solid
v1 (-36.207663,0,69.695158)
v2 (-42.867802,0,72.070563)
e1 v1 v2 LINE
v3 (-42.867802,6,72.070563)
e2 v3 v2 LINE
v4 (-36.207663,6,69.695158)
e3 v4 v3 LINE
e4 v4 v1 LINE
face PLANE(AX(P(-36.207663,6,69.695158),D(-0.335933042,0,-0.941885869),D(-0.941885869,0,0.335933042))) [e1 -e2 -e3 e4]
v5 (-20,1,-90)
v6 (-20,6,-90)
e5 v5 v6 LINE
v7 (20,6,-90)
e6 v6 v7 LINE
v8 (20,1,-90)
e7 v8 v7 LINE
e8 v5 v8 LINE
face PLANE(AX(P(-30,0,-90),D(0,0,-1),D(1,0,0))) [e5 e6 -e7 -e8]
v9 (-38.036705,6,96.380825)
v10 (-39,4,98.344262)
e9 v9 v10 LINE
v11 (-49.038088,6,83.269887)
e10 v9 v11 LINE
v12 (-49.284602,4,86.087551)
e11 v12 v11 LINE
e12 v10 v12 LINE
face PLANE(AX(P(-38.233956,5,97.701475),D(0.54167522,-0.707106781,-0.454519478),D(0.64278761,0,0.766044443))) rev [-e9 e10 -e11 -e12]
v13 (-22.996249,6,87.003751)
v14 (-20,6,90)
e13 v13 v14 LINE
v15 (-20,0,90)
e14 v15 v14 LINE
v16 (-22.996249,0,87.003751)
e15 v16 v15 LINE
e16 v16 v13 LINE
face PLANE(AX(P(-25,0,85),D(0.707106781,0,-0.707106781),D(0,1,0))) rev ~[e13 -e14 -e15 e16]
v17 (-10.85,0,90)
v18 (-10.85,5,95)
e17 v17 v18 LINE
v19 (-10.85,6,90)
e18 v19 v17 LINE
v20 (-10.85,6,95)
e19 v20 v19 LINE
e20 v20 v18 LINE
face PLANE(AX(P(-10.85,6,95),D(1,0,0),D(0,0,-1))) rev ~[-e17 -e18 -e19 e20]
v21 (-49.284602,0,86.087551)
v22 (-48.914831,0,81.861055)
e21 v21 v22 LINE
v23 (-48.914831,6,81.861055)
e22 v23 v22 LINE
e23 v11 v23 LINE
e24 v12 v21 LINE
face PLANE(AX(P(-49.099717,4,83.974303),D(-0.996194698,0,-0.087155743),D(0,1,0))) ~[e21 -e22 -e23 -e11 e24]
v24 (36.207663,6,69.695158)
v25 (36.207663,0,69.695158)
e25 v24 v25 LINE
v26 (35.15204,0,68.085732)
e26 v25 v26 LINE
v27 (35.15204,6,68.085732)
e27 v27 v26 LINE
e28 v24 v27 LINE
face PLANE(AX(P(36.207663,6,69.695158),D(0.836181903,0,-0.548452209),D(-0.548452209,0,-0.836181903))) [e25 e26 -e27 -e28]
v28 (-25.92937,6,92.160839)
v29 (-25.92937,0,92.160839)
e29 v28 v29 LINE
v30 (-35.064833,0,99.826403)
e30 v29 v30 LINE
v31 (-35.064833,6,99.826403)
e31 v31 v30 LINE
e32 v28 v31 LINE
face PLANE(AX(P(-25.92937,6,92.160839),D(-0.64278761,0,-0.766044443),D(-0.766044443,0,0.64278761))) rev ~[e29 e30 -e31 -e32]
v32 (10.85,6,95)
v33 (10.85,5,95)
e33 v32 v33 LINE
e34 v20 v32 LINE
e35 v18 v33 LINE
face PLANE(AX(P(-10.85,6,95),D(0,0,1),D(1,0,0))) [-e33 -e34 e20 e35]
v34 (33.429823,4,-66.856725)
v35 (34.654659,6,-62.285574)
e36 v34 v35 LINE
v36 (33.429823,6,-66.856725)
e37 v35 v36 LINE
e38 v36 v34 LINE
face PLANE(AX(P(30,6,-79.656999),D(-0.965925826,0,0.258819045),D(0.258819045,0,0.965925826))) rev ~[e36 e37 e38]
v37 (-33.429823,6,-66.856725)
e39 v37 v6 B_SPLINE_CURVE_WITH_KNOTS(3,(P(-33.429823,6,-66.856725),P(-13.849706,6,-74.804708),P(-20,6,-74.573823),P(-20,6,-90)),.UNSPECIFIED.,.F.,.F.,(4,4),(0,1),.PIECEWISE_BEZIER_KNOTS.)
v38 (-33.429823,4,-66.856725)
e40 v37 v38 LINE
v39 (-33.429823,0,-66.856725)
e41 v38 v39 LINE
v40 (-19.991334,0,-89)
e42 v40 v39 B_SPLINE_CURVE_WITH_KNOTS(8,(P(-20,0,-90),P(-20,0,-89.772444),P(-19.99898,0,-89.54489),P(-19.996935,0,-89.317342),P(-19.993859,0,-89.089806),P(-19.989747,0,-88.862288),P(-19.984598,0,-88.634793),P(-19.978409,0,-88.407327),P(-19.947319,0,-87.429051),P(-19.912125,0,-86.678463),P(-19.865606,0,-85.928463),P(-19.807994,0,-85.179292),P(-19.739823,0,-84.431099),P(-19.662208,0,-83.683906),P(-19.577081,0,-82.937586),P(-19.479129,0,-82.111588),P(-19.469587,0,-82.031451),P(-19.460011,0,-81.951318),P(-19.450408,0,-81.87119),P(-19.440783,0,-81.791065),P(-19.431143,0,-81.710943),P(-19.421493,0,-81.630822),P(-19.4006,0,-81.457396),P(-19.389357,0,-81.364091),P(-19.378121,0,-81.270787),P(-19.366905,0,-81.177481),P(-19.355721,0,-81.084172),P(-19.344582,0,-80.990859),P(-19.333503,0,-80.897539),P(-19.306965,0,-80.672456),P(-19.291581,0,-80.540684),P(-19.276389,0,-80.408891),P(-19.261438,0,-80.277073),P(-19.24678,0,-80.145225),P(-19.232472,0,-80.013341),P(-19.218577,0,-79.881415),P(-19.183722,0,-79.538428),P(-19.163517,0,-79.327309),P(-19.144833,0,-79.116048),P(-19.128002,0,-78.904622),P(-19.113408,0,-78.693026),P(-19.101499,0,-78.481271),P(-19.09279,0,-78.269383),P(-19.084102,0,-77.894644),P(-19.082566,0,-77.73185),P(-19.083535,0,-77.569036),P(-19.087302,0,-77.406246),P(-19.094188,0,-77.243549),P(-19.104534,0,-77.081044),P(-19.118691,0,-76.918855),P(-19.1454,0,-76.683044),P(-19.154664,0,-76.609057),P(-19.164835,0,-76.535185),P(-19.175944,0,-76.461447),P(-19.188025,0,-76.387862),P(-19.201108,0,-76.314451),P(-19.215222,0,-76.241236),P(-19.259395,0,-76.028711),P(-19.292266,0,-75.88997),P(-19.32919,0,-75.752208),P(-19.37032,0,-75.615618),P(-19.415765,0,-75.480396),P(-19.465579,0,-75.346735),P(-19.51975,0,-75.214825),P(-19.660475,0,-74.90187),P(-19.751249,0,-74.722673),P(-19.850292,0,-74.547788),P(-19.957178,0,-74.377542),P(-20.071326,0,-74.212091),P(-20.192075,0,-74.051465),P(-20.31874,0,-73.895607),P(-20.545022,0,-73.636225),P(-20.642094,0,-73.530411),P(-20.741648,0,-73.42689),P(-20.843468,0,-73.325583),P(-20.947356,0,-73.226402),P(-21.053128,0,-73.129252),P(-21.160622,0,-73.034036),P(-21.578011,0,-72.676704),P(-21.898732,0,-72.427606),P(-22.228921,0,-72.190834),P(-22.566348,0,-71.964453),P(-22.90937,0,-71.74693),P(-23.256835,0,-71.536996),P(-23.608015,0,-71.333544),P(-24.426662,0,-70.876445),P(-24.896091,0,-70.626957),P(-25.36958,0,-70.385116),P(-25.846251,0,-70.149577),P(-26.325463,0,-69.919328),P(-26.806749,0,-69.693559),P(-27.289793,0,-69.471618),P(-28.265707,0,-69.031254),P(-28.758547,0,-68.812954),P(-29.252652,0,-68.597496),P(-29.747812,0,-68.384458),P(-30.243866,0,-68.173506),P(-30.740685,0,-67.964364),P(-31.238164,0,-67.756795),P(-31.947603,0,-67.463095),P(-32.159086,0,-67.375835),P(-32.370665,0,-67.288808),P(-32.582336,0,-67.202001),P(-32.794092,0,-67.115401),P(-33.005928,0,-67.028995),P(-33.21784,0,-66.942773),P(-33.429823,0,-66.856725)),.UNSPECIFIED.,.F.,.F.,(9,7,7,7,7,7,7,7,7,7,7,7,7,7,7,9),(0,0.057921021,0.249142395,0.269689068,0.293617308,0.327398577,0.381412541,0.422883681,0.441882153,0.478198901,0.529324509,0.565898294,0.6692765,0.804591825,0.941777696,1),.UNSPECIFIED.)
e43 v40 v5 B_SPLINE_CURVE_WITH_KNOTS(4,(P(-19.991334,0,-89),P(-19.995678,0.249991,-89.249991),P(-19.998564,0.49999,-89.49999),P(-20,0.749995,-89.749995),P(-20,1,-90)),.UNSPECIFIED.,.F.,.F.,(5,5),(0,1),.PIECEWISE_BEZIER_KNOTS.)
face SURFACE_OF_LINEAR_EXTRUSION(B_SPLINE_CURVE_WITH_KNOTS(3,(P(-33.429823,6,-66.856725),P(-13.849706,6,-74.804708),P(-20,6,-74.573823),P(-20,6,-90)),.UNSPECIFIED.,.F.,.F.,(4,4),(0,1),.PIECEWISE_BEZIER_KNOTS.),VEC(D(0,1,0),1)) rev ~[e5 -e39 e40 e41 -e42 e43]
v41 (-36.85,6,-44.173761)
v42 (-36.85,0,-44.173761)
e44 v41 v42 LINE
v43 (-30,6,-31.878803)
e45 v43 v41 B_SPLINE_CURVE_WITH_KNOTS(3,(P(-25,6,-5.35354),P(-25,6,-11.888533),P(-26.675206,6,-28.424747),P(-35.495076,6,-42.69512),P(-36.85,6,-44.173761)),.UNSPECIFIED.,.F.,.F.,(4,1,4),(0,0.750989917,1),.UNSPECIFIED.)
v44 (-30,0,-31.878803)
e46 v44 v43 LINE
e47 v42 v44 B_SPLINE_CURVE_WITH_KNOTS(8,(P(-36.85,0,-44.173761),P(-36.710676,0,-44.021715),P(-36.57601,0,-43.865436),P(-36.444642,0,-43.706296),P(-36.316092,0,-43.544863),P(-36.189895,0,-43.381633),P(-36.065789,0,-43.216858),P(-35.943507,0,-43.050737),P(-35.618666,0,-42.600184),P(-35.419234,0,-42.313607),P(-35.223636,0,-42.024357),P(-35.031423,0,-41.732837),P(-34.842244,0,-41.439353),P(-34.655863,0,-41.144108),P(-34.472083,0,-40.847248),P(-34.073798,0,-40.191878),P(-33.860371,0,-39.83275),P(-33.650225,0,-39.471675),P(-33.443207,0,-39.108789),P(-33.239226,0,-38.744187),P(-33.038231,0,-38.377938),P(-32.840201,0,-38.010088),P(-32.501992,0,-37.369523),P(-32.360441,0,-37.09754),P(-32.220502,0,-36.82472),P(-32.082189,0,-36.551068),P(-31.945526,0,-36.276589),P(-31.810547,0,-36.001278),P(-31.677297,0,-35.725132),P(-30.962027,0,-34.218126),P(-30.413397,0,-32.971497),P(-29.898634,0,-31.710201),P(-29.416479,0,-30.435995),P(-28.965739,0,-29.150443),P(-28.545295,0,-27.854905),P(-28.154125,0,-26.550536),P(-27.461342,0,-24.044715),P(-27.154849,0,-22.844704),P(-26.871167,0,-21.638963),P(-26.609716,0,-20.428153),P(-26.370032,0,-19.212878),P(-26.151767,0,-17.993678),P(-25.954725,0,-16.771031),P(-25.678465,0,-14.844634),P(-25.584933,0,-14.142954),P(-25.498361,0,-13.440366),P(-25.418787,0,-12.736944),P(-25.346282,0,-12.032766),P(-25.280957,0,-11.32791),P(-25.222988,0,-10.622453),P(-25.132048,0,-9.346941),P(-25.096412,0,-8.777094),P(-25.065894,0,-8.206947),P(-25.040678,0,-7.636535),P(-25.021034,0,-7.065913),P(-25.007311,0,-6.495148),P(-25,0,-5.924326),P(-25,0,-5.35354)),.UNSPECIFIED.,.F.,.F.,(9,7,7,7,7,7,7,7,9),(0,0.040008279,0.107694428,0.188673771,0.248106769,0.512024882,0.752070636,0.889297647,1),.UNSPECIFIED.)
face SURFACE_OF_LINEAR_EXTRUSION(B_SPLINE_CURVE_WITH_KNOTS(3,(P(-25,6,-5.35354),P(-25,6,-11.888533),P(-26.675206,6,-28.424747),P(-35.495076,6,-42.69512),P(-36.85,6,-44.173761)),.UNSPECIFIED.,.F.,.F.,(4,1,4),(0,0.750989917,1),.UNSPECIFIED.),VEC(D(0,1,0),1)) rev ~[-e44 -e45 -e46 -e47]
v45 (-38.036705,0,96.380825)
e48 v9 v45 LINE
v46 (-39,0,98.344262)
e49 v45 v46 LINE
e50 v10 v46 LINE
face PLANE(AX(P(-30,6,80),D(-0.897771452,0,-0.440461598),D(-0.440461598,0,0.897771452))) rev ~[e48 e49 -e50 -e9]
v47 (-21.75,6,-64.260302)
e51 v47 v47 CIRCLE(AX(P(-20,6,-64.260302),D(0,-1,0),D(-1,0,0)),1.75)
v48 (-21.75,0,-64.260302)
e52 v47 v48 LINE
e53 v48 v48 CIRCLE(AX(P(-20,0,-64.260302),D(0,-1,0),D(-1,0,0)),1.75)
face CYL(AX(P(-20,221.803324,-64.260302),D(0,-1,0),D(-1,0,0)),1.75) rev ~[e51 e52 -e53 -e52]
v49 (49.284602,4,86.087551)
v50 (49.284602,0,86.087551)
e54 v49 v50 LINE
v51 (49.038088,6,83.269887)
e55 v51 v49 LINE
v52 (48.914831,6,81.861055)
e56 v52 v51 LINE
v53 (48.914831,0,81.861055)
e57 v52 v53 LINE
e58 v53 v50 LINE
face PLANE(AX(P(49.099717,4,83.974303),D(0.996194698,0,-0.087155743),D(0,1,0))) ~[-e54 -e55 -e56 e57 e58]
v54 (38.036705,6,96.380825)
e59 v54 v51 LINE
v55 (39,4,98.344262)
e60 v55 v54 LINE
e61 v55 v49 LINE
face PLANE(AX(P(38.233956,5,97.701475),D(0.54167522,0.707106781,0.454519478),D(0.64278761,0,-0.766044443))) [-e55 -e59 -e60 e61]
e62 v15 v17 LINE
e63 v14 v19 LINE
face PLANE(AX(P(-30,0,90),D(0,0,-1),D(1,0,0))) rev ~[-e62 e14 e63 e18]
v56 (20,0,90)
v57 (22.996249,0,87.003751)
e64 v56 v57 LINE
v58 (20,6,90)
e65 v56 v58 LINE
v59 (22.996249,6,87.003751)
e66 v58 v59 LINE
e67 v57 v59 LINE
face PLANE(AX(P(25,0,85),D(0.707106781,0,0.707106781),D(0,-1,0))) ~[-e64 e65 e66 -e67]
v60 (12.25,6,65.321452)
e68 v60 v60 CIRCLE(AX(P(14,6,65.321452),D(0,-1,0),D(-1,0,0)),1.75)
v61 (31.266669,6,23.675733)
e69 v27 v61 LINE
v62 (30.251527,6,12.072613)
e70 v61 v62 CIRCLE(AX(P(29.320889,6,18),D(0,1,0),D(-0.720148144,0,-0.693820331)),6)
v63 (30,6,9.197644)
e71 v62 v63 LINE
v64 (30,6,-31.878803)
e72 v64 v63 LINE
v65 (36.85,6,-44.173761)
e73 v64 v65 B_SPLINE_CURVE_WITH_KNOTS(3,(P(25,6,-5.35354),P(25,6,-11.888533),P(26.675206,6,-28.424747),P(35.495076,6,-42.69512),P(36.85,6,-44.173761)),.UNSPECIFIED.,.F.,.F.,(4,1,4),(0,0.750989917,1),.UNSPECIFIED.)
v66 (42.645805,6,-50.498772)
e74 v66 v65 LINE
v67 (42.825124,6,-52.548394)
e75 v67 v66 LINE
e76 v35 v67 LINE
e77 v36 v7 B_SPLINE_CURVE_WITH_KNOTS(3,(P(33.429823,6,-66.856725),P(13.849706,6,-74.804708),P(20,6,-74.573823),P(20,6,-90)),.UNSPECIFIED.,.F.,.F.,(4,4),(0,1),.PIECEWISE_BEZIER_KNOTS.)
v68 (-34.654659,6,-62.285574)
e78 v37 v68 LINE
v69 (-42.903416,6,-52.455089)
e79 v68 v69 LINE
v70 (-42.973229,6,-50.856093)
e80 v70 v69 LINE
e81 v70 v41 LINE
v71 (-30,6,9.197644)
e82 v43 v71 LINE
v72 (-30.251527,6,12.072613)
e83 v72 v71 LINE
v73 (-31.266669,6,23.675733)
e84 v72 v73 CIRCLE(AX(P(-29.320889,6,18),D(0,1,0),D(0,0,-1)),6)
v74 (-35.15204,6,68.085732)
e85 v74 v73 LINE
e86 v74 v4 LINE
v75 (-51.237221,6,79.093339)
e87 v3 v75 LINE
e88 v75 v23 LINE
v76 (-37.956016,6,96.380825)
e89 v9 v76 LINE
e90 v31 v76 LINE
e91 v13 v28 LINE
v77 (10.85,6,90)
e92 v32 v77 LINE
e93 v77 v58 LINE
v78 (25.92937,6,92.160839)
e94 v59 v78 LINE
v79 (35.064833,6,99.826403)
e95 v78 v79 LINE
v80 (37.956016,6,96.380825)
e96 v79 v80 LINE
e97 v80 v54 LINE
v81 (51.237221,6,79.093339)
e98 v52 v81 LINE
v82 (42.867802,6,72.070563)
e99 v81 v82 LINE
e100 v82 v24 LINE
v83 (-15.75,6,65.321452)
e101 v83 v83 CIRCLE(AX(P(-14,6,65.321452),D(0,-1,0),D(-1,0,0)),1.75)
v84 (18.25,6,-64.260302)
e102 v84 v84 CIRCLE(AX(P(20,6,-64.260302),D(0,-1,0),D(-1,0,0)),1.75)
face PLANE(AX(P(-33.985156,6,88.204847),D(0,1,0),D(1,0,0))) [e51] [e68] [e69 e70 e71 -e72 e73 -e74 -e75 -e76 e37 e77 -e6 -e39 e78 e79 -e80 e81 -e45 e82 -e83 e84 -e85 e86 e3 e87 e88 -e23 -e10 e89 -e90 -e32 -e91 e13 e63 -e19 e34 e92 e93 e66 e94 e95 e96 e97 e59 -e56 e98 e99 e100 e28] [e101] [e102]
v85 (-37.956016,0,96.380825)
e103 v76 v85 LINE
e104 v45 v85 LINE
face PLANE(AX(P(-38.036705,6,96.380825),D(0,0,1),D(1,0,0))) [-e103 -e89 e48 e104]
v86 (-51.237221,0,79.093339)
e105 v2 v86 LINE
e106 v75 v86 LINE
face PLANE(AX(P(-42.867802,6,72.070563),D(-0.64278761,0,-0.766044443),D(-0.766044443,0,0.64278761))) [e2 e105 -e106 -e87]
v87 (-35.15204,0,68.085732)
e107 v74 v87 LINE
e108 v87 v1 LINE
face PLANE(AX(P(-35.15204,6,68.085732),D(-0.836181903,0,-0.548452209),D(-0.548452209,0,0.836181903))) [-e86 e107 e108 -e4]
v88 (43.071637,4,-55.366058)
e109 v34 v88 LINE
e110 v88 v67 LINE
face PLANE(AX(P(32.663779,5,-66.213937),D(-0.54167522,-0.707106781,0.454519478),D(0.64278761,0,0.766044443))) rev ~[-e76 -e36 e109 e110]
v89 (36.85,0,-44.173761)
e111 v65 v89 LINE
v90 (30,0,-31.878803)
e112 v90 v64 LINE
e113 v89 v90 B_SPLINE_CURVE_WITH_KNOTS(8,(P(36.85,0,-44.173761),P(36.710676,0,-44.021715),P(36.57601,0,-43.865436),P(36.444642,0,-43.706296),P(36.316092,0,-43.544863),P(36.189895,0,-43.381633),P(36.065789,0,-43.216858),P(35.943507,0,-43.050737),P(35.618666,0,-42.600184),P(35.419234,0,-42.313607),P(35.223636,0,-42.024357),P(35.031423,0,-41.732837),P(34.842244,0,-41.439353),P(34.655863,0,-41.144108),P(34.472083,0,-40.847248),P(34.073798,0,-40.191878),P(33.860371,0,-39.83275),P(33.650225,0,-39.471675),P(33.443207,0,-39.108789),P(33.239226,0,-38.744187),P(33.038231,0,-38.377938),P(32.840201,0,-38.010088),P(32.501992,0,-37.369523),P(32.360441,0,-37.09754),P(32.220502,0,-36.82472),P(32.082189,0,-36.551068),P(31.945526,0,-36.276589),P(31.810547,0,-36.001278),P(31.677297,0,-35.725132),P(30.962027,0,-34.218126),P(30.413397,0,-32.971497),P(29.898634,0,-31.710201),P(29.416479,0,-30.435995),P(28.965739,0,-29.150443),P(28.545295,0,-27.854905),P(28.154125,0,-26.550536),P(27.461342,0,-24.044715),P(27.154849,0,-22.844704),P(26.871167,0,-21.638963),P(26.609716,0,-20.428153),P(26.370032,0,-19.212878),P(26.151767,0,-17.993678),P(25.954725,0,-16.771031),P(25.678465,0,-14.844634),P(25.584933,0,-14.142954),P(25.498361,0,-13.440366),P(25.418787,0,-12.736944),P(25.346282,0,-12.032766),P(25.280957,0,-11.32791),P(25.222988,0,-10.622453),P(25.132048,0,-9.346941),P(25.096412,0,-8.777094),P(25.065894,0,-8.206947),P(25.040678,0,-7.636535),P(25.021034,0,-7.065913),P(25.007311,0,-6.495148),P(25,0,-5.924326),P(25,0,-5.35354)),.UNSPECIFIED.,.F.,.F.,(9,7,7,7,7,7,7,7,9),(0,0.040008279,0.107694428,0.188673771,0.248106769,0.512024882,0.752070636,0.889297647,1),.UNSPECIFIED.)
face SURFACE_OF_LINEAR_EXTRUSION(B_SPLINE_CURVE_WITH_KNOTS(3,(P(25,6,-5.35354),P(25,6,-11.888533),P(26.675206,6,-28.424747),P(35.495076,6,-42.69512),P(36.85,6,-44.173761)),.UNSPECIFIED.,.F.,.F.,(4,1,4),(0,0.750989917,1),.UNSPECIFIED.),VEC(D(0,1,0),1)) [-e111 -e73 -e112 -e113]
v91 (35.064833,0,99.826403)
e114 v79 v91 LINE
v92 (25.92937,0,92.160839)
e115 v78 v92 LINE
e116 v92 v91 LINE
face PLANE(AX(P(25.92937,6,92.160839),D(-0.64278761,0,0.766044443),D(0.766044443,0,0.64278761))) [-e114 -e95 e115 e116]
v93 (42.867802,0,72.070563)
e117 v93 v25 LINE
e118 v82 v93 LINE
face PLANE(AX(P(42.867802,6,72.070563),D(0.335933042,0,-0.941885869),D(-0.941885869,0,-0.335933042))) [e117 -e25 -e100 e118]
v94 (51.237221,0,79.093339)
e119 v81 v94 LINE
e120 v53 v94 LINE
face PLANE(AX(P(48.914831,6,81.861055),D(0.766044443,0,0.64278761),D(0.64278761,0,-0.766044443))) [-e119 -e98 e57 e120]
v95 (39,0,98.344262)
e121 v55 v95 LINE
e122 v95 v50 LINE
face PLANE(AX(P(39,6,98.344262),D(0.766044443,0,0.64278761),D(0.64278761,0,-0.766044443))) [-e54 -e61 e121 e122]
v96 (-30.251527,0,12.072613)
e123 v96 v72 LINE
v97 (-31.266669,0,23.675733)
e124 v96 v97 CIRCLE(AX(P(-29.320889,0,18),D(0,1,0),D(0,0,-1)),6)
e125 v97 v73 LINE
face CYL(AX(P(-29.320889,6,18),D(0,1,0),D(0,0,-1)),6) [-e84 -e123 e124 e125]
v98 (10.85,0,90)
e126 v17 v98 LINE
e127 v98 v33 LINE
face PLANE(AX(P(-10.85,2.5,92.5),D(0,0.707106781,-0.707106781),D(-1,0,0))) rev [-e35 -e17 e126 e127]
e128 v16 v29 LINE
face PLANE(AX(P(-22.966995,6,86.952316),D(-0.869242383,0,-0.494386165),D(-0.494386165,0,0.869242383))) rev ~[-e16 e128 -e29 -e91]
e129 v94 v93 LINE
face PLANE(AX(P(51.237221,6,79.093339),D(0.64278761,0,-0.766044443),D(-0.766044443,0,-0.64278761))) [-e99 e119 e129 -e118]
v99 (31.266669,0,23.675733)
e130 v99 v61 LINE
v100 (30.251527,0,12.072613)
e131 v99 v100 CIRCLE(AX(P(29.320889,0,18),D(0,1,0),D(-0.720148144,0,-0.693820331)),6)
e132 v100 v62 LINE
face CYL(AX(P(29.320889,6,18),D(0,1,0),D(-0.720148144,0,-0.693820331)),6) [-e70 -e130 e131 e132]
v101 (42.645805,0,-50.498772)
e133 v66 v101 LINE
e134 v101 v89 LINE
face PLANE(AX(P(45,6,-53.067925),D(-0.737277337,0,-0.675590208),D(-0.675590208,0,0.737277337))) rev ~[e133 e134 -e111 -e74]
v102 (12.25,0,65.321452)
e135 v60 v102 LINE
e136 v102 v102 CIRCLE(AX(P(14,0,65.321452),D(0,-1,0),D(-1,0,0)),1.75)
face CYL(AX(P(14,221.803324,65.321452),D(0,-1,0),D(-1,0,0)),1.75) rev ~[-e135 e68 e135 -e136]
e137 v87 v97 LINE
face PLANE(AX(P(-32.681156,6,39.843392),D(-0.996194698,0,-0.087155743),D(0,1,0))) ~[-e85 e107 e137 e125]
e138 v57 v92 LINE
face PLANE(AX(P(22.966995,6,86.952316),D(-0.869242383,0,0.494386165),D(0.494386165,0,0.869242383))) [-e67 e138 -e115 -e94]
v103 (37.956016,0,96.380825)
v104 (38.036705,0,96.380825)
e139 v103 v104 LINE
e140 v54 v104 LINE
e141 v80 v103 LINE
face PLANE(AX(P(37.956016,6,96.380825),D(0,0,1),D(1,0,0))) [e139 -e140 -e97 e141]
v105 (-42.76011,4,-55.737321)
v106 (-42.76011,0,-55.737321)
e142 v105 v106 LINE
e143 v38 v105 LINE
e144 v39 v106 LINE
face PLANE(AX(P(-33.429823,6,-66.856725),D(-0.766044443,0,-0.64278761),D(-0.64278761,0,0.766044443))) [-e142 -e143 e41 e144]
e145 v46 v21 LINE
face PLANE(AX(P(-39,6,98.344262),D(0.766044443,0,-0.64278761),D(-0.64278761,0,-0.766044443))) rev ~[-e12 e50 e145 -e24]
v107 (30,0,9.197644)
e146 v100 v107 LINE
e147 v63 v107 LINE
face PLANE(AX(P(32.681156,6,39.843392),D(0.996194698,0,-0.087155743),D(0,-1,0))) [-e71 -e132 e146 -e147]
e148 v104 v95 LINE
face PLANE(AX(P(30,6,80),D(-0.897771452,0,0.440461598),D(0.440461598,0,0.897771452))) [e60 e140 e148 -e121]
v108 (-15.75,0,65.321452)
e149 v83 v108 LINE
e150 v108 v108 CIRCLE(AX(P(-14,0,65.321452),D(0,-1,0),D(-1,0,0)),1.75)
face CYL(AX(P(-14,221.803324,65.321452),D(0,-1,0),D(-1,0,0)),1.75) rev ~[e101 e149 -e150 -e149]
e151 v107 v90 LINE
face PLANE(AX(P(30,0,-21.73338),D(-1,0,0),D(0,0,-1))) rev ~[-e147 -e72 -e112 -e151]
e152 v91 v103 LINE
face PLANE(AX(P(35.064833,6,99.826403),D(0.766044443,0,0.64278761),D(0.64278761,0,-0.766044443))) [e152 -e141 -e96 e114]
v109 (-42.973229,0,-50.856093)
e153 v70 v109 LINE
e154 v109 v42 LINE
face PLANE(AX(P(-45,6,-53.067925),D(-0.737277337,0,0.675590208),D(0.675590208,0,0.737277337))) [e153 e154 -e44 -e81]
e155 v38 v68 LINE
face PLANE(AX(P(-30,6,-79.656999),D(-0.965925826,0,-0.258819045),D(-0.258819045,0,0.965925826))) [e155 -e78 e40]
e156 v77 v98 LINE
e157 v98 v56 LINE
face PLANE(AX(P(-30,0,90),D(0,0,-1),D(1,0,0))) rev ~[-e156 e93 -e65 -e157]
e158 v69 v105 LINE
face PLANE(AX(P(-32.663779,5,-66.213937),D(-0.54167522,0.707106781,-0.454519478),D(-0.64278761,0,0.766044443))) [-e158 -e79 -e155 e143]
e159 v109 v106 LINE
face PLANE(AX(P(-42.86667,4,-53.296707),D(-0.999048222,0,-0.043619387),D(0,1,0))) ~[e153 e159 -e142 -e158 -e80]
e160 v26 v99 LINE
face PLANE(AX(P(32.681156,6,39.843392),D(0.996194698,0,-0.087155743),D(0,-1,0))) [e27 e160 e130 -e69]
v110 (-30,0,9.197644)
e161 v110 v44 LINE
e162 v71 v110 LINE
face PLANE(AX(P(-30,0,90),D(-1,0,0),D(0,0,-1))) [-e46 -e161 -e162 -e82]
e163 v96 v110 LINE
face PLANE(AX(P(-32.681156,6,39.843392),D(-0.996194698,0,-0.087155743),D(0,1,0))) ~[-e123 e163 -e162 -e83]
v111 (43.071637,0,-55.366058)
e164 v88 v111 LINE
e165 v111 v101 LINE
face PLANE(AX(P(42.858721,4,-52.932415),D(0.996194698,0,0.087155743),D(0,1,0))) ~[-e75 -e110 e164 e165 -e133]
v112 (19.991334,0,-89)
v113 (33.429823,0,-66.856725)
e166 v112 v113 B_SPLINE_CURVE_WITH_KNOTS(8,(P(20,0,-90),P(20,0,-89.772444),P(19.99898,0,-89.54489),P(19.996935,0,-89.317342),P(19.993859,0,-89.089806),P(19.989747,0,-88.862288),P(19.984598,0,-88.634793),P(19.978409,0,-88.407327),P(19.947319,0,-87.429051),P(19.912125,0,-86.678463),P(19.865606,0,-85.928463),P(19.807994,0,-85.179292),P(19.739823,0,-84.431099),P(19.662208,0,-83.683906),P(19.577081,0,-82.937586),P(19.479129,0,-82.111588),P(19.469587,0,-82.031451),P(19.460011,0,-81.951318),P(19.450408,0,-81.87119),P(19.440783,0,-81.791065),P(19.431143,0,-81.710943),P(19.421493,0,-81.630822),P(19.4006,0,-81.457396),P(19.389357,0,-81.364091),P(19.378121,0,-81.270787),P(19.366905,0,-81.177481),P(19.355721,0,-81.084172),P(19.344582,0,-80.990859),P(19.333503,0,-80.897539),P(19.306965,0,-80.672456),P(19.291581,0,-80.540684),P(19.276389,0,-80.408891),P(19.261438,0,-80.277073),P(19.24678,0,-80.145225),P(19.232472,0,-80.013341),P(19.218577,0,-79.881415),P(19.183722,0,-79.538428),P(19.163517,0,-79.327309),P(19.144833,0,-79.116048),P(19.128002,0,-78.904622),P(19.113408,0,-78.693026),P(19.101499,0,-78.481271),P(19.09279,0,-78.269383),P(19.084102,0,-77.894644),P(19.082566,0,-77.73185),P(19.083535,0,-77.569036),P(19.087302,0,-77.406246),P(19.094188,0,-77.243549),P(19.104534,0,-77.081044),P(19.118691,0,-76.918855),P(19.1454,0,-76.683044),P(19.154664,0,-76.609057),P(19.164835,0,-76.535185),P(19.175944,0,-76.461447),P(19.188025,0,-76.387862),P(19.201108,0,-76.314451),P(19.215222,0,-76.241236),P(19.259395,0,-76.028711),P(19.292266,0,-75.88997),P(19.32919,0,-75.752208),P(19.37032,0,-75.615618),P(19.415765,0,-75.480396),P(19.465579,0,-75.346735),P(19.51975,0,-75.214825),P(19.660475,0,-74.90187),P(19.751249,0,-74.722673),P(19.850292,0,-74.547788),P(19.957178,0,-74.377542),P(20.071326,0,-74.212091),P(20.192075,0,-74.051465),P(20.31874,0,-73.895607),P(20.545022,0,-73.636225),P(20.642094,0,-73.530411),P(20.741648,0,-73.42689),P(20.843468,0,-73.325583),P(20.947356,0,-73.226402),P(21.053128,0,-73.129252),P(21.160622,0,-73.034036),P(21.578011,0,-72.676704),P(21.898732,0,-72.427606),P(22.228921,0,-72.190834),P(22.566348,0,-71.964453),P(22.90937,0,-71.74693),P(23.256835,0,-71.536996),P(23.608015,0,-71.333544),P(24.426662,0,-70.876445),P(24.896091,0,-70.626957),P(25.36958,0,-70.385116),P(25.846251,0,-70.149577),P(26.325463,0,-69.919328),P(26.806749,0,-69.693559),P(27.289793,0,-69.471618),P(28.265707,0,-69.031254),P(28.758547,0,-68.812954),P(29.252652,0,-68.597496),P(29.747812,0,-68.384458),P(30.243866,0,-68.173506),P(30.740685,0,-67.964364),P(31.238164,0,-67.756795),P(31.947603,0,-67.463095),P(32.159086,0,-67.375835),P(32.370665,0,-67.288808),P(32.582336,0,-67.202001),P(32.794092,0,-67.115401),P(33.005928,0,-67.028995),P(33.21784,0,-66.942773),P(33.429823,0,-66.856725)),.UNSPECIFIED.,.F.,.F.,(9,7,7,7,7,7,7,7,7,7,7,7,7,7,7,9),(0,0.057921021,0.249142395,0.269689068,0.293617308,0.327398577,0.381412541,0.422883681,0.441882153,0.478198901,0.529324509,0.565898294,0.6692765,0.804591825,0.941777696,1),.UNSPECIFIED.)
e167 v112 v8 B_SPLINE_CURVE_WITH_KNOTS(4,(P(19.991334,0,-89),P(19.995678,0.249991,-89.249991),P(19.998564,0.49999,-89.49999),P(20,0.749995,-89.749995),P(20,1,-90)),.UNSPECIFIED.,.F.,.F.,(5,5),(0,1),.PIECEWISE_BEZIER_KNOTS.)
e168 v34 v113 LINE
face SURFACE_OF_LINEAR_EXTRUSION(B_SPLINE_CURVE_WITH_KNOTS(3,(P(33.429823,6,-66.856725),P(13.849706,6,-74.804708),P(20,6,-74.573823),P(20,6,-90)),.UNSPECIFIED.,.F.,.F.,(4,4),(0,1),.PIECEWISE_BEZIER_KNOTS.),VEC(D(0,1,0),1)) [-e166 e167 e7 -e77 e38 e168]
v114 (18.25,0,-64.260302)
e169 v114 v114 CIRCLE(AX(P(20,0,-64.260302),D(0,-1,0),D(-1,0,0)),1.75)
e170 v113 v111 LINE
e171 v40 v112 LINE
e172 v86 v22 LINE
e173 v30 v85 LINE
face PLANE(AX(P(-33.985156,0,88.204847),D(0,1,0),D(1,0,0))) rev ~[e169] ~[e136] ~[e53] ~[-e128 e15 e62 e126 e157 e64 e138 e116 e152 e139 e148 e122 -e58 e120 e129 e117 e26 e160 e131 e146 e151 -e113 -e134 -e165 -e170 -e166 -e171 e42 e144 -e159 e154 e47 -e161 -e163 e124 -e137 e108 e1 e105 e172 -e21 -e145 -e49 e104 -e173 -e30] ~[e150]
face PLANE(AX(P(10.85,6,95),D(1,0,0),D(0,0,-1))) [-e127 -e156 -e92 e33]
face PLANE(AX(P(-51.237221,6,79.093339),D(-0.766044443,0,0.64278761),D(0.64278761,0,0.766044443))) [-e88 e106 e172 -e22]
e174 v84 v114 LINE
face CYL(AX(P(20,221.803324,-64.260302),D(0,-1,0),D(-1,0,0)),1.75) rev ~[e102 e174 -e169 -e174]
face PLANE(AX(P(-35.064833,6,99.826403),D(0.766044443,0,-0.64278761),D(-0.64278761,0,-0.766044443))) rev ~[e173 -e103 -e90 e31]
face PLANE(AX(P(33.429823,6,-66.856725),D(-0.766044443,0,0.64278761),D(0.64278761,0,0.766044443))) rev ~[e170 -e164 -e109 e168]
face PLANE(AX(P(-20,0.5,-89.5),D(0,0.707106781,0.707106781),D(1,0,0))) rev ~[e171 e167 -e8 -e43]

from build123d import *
from OCP.BRepFilletAPI import BRepFilletAPI_MakeChamfer

# Parameters (mm, degrees)
SKETCH1_W             = 60
SKETCH1_H             = 180
BOSS_EXTRUDE1_DEPTH   = 6
CHAMFER2_SIZE         = 10
BOSS_EXTRUDE3_DEPTH   = 6
BOSS_EXTRUDE4_DEPTH   = 6
CHAMFER14_SIZE        = 2
CHAMFER16_SIZE        = 7
CHAMFER16_SIZE2       = 56.79198309
CHAMFER17_SIZE        = 2
SKETCH59_W            = 21.7
SKETCH59_H            = 5
BOSS_EXTRUDE5_DEPTH   = 6
CHAMFER19_SIZE        = 5
CUT_EXTRUDE28_DEPTH   = 112.04216162
CHAMFER20_SIZE        = 3
CHAMFER20_SIZE2       = 3.484649721
CUT_EXTRUDE29_DEPTH   = 111.166083192
CHAMFER24_SIZE        = 1
CUT_EXTRUDE31_DEPTH   = 111.166083332
SKETCH66_R            = 6
BOSS_EXTRUDE6_DEPTH   = 6
BOSS_EXTRUDE7_DEPTH   = 6
BOSS_EXTRUDE8_DEPTH   = 6
BOSS_EXTRUDE9_DEPTH   = 6
F_3_0MM_DOWEL_HOLE3_D = 3.5


with BuildPart() as part:
    # Sketch1 → Boss-Extrude1 (new body)
    with BuildSketch(Plane(origin=(0, 0, 0), x_dir=(1, 0, 0), z_dir=(0, 1, 0))):
        Rectangle(SKETCH1_W, SKETCH1_H)
    extrude(amount=BOSS_EXTRUDE1_DEPTH)

    # Chamfer2
    chamfer2_edges = [part.edges().sort_by_distance(p)[0] for p in [
        (-30, 3, -90),
        (30, 3, -90),
        (30, 3, 90),
        (-30, 3, 90),
    ]]
    chamfer(chamfer2_edges, length=CHAMFER2_SIZE)

    # Sketch52 → Boss-Extrude3 (add, through all)
    with BuildSketch(Plane(origin=(0, 6, 0), x_dir=(1, 0, 0), z_dir=(0, 1, 0))):
        Polygon((45, 53.067924807), (36.85, 44.173760523), (30, 25.3535402), (30, 79.656998575), (33.429823026, 66.856724783), align=None)
        Polygon((-33.429823026, 66.856724783), (-45, 53.067924807), (-36.85, 44.173760523), (-30, 25.3535402), (-30, 79.656998575), align=None)
    extrude(amount=-BOSS_EXTRUDE3_DEPTH)

    # Sketch53 → Boss-Extrude4 (add, through all)
    with BuildSketch(Plane(origin=(0, 6, 0), x_dir=(1, 0, 0), z_dir=(0, 1, 0))):
        Polygon((30, -65.989627063), (30, -80), (39, -98.344262241), (51.212964584, -83.789417822), align=None)
        Polygon((-51.212964584, -83.789417822), (-30, -65.989627063), (-30, -80), (-39, -98.344262241), align=None)
    extrude(amount=-BOSS_EXTRUDE4_DEPTH)

    # Chamfer14
    chamfer14_edges = [part.edges().sort_by_distance(p)[0] for p in [
        (-45.106482292, 6, 91.066840031),
        (45.106482292, 6, 91.066840031),
    ]]
    chamfer(chamfer14_edges, length=CHAMFER14_SIZE)

    # Chamfer16: one chamfer whose edges measure the first distance from different faces: ONE call of the kernel's chamfer builder (chamfer() names one face for all edges)
    chamfer16_edges_1 = [part.edges().sort_by_distance(p)[0] for p in [
        (-30, 3, 65.989627063),
    ]]
    chamfer16_side_1 = [part.faces().sort_by_distance(p)[0] for p in [
        (-40.483474971, 2.971570606, 74.786307045),
    ]]
    chamfer16_edges_2 = [part.edges().sort_by_distance(p)[0] for p in [
        (30, 3, 65.989627063),
    ]]
    chamfer16_side_2 = [part.faces().sort_by_distance(p)[0] for p in [
        (40.483474971, 2.971570606, 74.786307045),
    ]]
    chamfer16 = BRepFilletAPI_MakeChamfer(part.part.solid().wrapped)
    for e in chamfer16_edges_1:
        chamfer16.Add(CHAMFER16_SIZE, CHAMFER16_SIZE2, e.wrapped, chamfer16_side_1[0].wrapped)  # the first distance lies on this face
    for e in chamfer16_edges_2:
        chamfer16.Add(CHAMFER16_SIZE, CHAMFER16_SIZE2, e.wrapped, chamfer16_side_2[0].wrapped)  # the first distance lies on this face
    add(Compound.cast(chamfer16.Shape()), mode=Mode.REPLACE)

    # Chamfer17
    chamfer17_edges = [part.edges().sort_by_distance(p)[0] for p in [
        (39.214911513, 6, -59.962324795),
        (-39.214911513, 6, -59.962324795),
    ]]
    chamfer(chamfer17_edges, length=CHAMFER17_SIZE)

    # Sketch59 → Boss-Extrude5 (add, through all)
    with BuildSketch(Plane(origin=(0, 6, 0), x_dir=(1, 0, 0), z_dir=(0, 1, 0))):
        with Locations((0, -92.5)):
            Rectangle(SKETCH59_W, SKETCH59_H)
    extrude(amount=-BOSS_EXTRUDE5_DEPTH)

    # Chamfer19
    chamfer19_edges = [part.edges().sort_by_distance(p)[0] for p in [
        (0, 0, 95),
    ]]
    chamfer(chamfer19_edges, length=CHAMFER19_SIZE)

    # Sketch61 → Cut-Extrude28 (cut, through all)
    with BuildSketch(Plane.XZ):
        Polygon((30, -79.656998575), (20, -90), (30, -80), align=None)
        Polygon((-30, -80), (-30, -79.656998575), (-20, -90), align=None)
    extrude(amount=-CUT_EXTRUDE28_DEPTH, mode=Mode.SUBTRACT)

    # Chamfer20: one chamfer whose edges measure the first distance from different faces: ONE call of the kernel's chamfer builder (chamfer() names one face for all edges)
    chamfer20_edges_1 = [part.edges().sort_by_distance(p)[0] for p in [
        (-45, 2, -53.067924807),
    ]]
    chamfer20_side_1 = [part.faces().sort_by_distance(p)[0] for p in [
        (-40.821197815, 2.933105821, -48.507562458),
    ]]
    chamfer20_edges_2 = [part.edges().sort_by_distance(p)[0] for p in [
        (45, 2, -53.067924807),
    ]]
    chamfer20_side_2 = [part.faces().sort_by_distance(p)[0] for p in [
        (39.214911513, 2, -59.962324795),
    ]]
    chamfer20_edges_3 = [part.edges().sort_by_distance(p)[0] for p in [
        (-51.212964584, 2, 83.789417822),
        (51.212964584, 2, 83.789417822),
    ]]
    chamfer20 = BRepFilletAPI_MakeChamfer(part.part.solid().wrapped)
    for e in chamfer20_edges_1:
        chamfer20.Add(CHAMFER20_SIZE, CHAMFER20_SIZE2, e.wrapped, chamfer20_side_1[0].wrapped)  # the first distance lies on this face
    for e in chamfer20_edges_2:
        chamfer20.Add(CHAMFER20_SIZE, CHAMFER20_SIZE2, e.wrapped, chamfer20_side_2[0].wrapped)  # the first distance lies on this face
    for e in chamfer20_edges_3:
        chamfer20.Add(CHAMFER20_SIZE, e.wrapped)
    add(Compound.cast(chamfer20.Shape()), mode=Mode.REPLACE)

    # Sketch62 → Cut-Extrude29 (cut, through all)
    with BuildSketch(Plane(origin=(0, 6, 0), x_dir=(1, 0, 0), z_dir=(0, 1, 0))):
        with BuildLine():
            Line((20, 90), (30, 79.656998575))
            Line((30, 79.656998575), (33.429823026, 66.856724783))
            add(Edge.make_bspline(
                [(33.429823026, 66.856724783), (13.849706238, 74.804707739), (20, 74.573823319), (20, 90)],
                knots=[0, 0, 0, 0, 1, 1, 1, 1], degree=3))
        make_face()
        with BuildLine():
            Line((-30, 79.656998575), (-33.429823026, 66.856724783))
            add(Edge.make_bspline(
                [(-33.429823026, 66.856724783), (-13.849706238, 74.804707739), (-20, 74.573823319), (-20, 90)],
                knots=[0, 0, 0, 0, 1, 1, 1, 1], degree=3))
            Line((-20, 90), (-30, 79.656998575))
        make_face()
    extrude(amount=-CUT_EXTRUDE29_DEPTH, mode=Mode.SUBTRACT)

    # Chamfer24
    chamfer24_edges = [part.edges().sort_by_distance(p)[0] for p in [
        (0, 0, -90),
    ]]
    chamfer(chamfer24_edges, length=CHAMFER24_SIZE)

    # Sketch64 → Cut-Extrude31 (cut, through all)
    with BuildSketch(Plane(origin=(0, 6, 0), x_dir=(1, 0, 0), z_dir=(0, 1, 0))):
        with BuildLine():
            Line((36.85, 44.173760523), (25, 5.3535402))
            add(Edge.make_bspline(
                [(25, 5.3535402), (25, 11.888533403), (26.675205792, 28.424746849), (35.495075594, 42.695120001), (36.85, 44.173760523)],
                knots=[0, 0, 0, 0, 0.750989917, 1, 1, 1, 1], degree=3))
        make_face()
        with BuildLine():
            Line((-36.85, 44.173760523), (-25, 5.3535402))
            add(Edge.make_bspline(
                [(-25, 5.3535402), (-25, 11.888533403), (-26.675205792, 28.424746849), (-35.495075594, 42.695120001), (-36.85, 44.173760523)],
                knots=[0, 0, 0, 0, 0.750989917, 1, 1, 1, 1], degree=3))
        make_face()
    extrude(amount=-CUT_EXTRUDE31_DEPTH, mode=Mode.SUBTRACT)

    # Sketch66 → Boss-Extrude6 (add)
    with BuildSketch(Plane(origin=(0, 6, 0), x_dir=(1, 0, 0), z_dir=(0, 1, 0))):
        with Locations((29.320888862, -18)):
            Circle(SKETCH66_R)
        with BuildLine():
            ThreePointArc((25, -13.837078017), (26.973287097, -12.478336668), (29.320888862, -12))
            Line((29.320888862, -12), (25, -12))
            Line((25, -12), (25, -13.837078017))
        make_face()
        with BuildLine():
            Line((25, -24), (29.320888862, -24))
            ThreePointArc((29.320888862, -24), (26.973287097, -23.521663332), (25, -22.162921983))
            Line((25, -22.162921983), (25, -24))
        make_face()
        with Locations((-29.320888862, -18)):
            Circle(SKETCH66_R)
        with BuildLine():
            Line((-25, -12), (-29.320888862, -12))
            ThreePointArc((-29.320888862, -12), (-26.973287097, -12.478336668), (-25, -13.837078017))
            Line((-25, -13.837078017), (-25, -12))
        make_face()
        with BuildLine():
            ThreePointArc((-25, -22.162921983), (-26.973287097, -23.521663332), (-29.320888862, -24))
            Line((-29.320888862, -24), (-25, -24))
            Line((-25, -24), (-25, -22.162921983))
        make_face()
    extrude(amount=-BOSS_EXTRUDE6_DEPTH)

    # Sketch67 → Boss-Extrude7 (add)
    with BuildSketch(Plane.XZ):
        with BuildLine():
            Line((30, -21.733379998), (30, -31.878802778))
            add(Edge.make_bspline(
                [(30, -31.878802778), (26.006043433, -21.746256389), (25, -11.197434735), (25, -5.3535402)],
                knots=[0.328429926, 0.328429926, 0.328429926, 0.328429926, 1, 1, 1, 1], degree=3))
            Line((25, -5.3535402), (30, -21.733379998))
        make_face()
        with BuildLine():
            Line((-30, -21.733379998), (-30, -31.878802778))
            add(Edge.make_bspline(
                [(-25, -5.3535402), (-25, -11.197434735), (-26.006043433, -21.746256389), (-30, -31.878802778)],
                knots=[0, 0, 0, 0, 0.671570074, 0.671570074, 0.671570074, 0.671570074], degree=3))
            Line((-25, -5.3535402), (-30, -21.733379998))
        make_face()
    extrude(amount=-BOSS_EXTRUDE7_DEPTH)

    # Sketch70 → Boss-Extrude8 (add)
    with BuildSketch(Plane(origin=(0, 6, 0), x_dir=(1, 0, 0), z_dir=(0, 1, 0))):
        Polygon((-35.152040134, -68.085732174), (-36.207663424, -69.695157895), (-42.867802278, -72.070563218), (-51.23722065, -79.093339087), (-48.914831255, -81.861054993), (-35.362311102, -70.489140331), align=None)
        Polygon((-37.956015914, -96.380824876), (-29.919310924, -80), (-22.966994839, -86.952316085), (-25.929369827, -92.160839448), (-35.064832642, -99.826402927), align=None)
        Polygon((35.362311102, -70.489140331), (48.914831255, -81.861054993), (51.23722065, -79.093339087), (42.867802278, -72.070563218), (36.207663424, -69.695157895), (35.152040134, -68.085732174), align=None)
        Polygon((37.956015914, -96.380824876), (29.919310924, -80), (22.966994839, -86.952316085), (25.929369827, -92.160839448), (35.064832642, -99.826402927), align=None)
    extrude(amount=-BOSS_EXTRUDE8_DEPTH)

    # Sketch71 → Boss-Extrude9 (add)
    with BuildSketch(Plane(origin=(0, 6, 0), x_dir=(1, 0, 0), z_dir=(0, 1, 0))):
        Polygon((-38.03670499, -96.380824876), (-37.956015914, -96.380824876), (-29.945868659, -80.054131341), (-30, -80), align=None)
        Polygon((29.945868659, -80.054131341), (37.956015914, -96.380824876), (38.03670499, -96.380824876), (30, -80), align=None)
    extrude(amount=-BOSS_EXTRUDE9_DEPTH)

    # Ø3.0mm Dowel Hole3 (through all)
    with Locations(Plane(origin=(0, 6, 0), x_dir=(1, 0, 0), z_dir=(0, 1, 0))):
        with Locations((20, 64.260302334), (-20, 64.260302334), (-14, -65.321451812), (14, -65.321451812)):
            Hole(F_3_0MM_DOWEL_HOLE3_D / 2)


solid = part.part
